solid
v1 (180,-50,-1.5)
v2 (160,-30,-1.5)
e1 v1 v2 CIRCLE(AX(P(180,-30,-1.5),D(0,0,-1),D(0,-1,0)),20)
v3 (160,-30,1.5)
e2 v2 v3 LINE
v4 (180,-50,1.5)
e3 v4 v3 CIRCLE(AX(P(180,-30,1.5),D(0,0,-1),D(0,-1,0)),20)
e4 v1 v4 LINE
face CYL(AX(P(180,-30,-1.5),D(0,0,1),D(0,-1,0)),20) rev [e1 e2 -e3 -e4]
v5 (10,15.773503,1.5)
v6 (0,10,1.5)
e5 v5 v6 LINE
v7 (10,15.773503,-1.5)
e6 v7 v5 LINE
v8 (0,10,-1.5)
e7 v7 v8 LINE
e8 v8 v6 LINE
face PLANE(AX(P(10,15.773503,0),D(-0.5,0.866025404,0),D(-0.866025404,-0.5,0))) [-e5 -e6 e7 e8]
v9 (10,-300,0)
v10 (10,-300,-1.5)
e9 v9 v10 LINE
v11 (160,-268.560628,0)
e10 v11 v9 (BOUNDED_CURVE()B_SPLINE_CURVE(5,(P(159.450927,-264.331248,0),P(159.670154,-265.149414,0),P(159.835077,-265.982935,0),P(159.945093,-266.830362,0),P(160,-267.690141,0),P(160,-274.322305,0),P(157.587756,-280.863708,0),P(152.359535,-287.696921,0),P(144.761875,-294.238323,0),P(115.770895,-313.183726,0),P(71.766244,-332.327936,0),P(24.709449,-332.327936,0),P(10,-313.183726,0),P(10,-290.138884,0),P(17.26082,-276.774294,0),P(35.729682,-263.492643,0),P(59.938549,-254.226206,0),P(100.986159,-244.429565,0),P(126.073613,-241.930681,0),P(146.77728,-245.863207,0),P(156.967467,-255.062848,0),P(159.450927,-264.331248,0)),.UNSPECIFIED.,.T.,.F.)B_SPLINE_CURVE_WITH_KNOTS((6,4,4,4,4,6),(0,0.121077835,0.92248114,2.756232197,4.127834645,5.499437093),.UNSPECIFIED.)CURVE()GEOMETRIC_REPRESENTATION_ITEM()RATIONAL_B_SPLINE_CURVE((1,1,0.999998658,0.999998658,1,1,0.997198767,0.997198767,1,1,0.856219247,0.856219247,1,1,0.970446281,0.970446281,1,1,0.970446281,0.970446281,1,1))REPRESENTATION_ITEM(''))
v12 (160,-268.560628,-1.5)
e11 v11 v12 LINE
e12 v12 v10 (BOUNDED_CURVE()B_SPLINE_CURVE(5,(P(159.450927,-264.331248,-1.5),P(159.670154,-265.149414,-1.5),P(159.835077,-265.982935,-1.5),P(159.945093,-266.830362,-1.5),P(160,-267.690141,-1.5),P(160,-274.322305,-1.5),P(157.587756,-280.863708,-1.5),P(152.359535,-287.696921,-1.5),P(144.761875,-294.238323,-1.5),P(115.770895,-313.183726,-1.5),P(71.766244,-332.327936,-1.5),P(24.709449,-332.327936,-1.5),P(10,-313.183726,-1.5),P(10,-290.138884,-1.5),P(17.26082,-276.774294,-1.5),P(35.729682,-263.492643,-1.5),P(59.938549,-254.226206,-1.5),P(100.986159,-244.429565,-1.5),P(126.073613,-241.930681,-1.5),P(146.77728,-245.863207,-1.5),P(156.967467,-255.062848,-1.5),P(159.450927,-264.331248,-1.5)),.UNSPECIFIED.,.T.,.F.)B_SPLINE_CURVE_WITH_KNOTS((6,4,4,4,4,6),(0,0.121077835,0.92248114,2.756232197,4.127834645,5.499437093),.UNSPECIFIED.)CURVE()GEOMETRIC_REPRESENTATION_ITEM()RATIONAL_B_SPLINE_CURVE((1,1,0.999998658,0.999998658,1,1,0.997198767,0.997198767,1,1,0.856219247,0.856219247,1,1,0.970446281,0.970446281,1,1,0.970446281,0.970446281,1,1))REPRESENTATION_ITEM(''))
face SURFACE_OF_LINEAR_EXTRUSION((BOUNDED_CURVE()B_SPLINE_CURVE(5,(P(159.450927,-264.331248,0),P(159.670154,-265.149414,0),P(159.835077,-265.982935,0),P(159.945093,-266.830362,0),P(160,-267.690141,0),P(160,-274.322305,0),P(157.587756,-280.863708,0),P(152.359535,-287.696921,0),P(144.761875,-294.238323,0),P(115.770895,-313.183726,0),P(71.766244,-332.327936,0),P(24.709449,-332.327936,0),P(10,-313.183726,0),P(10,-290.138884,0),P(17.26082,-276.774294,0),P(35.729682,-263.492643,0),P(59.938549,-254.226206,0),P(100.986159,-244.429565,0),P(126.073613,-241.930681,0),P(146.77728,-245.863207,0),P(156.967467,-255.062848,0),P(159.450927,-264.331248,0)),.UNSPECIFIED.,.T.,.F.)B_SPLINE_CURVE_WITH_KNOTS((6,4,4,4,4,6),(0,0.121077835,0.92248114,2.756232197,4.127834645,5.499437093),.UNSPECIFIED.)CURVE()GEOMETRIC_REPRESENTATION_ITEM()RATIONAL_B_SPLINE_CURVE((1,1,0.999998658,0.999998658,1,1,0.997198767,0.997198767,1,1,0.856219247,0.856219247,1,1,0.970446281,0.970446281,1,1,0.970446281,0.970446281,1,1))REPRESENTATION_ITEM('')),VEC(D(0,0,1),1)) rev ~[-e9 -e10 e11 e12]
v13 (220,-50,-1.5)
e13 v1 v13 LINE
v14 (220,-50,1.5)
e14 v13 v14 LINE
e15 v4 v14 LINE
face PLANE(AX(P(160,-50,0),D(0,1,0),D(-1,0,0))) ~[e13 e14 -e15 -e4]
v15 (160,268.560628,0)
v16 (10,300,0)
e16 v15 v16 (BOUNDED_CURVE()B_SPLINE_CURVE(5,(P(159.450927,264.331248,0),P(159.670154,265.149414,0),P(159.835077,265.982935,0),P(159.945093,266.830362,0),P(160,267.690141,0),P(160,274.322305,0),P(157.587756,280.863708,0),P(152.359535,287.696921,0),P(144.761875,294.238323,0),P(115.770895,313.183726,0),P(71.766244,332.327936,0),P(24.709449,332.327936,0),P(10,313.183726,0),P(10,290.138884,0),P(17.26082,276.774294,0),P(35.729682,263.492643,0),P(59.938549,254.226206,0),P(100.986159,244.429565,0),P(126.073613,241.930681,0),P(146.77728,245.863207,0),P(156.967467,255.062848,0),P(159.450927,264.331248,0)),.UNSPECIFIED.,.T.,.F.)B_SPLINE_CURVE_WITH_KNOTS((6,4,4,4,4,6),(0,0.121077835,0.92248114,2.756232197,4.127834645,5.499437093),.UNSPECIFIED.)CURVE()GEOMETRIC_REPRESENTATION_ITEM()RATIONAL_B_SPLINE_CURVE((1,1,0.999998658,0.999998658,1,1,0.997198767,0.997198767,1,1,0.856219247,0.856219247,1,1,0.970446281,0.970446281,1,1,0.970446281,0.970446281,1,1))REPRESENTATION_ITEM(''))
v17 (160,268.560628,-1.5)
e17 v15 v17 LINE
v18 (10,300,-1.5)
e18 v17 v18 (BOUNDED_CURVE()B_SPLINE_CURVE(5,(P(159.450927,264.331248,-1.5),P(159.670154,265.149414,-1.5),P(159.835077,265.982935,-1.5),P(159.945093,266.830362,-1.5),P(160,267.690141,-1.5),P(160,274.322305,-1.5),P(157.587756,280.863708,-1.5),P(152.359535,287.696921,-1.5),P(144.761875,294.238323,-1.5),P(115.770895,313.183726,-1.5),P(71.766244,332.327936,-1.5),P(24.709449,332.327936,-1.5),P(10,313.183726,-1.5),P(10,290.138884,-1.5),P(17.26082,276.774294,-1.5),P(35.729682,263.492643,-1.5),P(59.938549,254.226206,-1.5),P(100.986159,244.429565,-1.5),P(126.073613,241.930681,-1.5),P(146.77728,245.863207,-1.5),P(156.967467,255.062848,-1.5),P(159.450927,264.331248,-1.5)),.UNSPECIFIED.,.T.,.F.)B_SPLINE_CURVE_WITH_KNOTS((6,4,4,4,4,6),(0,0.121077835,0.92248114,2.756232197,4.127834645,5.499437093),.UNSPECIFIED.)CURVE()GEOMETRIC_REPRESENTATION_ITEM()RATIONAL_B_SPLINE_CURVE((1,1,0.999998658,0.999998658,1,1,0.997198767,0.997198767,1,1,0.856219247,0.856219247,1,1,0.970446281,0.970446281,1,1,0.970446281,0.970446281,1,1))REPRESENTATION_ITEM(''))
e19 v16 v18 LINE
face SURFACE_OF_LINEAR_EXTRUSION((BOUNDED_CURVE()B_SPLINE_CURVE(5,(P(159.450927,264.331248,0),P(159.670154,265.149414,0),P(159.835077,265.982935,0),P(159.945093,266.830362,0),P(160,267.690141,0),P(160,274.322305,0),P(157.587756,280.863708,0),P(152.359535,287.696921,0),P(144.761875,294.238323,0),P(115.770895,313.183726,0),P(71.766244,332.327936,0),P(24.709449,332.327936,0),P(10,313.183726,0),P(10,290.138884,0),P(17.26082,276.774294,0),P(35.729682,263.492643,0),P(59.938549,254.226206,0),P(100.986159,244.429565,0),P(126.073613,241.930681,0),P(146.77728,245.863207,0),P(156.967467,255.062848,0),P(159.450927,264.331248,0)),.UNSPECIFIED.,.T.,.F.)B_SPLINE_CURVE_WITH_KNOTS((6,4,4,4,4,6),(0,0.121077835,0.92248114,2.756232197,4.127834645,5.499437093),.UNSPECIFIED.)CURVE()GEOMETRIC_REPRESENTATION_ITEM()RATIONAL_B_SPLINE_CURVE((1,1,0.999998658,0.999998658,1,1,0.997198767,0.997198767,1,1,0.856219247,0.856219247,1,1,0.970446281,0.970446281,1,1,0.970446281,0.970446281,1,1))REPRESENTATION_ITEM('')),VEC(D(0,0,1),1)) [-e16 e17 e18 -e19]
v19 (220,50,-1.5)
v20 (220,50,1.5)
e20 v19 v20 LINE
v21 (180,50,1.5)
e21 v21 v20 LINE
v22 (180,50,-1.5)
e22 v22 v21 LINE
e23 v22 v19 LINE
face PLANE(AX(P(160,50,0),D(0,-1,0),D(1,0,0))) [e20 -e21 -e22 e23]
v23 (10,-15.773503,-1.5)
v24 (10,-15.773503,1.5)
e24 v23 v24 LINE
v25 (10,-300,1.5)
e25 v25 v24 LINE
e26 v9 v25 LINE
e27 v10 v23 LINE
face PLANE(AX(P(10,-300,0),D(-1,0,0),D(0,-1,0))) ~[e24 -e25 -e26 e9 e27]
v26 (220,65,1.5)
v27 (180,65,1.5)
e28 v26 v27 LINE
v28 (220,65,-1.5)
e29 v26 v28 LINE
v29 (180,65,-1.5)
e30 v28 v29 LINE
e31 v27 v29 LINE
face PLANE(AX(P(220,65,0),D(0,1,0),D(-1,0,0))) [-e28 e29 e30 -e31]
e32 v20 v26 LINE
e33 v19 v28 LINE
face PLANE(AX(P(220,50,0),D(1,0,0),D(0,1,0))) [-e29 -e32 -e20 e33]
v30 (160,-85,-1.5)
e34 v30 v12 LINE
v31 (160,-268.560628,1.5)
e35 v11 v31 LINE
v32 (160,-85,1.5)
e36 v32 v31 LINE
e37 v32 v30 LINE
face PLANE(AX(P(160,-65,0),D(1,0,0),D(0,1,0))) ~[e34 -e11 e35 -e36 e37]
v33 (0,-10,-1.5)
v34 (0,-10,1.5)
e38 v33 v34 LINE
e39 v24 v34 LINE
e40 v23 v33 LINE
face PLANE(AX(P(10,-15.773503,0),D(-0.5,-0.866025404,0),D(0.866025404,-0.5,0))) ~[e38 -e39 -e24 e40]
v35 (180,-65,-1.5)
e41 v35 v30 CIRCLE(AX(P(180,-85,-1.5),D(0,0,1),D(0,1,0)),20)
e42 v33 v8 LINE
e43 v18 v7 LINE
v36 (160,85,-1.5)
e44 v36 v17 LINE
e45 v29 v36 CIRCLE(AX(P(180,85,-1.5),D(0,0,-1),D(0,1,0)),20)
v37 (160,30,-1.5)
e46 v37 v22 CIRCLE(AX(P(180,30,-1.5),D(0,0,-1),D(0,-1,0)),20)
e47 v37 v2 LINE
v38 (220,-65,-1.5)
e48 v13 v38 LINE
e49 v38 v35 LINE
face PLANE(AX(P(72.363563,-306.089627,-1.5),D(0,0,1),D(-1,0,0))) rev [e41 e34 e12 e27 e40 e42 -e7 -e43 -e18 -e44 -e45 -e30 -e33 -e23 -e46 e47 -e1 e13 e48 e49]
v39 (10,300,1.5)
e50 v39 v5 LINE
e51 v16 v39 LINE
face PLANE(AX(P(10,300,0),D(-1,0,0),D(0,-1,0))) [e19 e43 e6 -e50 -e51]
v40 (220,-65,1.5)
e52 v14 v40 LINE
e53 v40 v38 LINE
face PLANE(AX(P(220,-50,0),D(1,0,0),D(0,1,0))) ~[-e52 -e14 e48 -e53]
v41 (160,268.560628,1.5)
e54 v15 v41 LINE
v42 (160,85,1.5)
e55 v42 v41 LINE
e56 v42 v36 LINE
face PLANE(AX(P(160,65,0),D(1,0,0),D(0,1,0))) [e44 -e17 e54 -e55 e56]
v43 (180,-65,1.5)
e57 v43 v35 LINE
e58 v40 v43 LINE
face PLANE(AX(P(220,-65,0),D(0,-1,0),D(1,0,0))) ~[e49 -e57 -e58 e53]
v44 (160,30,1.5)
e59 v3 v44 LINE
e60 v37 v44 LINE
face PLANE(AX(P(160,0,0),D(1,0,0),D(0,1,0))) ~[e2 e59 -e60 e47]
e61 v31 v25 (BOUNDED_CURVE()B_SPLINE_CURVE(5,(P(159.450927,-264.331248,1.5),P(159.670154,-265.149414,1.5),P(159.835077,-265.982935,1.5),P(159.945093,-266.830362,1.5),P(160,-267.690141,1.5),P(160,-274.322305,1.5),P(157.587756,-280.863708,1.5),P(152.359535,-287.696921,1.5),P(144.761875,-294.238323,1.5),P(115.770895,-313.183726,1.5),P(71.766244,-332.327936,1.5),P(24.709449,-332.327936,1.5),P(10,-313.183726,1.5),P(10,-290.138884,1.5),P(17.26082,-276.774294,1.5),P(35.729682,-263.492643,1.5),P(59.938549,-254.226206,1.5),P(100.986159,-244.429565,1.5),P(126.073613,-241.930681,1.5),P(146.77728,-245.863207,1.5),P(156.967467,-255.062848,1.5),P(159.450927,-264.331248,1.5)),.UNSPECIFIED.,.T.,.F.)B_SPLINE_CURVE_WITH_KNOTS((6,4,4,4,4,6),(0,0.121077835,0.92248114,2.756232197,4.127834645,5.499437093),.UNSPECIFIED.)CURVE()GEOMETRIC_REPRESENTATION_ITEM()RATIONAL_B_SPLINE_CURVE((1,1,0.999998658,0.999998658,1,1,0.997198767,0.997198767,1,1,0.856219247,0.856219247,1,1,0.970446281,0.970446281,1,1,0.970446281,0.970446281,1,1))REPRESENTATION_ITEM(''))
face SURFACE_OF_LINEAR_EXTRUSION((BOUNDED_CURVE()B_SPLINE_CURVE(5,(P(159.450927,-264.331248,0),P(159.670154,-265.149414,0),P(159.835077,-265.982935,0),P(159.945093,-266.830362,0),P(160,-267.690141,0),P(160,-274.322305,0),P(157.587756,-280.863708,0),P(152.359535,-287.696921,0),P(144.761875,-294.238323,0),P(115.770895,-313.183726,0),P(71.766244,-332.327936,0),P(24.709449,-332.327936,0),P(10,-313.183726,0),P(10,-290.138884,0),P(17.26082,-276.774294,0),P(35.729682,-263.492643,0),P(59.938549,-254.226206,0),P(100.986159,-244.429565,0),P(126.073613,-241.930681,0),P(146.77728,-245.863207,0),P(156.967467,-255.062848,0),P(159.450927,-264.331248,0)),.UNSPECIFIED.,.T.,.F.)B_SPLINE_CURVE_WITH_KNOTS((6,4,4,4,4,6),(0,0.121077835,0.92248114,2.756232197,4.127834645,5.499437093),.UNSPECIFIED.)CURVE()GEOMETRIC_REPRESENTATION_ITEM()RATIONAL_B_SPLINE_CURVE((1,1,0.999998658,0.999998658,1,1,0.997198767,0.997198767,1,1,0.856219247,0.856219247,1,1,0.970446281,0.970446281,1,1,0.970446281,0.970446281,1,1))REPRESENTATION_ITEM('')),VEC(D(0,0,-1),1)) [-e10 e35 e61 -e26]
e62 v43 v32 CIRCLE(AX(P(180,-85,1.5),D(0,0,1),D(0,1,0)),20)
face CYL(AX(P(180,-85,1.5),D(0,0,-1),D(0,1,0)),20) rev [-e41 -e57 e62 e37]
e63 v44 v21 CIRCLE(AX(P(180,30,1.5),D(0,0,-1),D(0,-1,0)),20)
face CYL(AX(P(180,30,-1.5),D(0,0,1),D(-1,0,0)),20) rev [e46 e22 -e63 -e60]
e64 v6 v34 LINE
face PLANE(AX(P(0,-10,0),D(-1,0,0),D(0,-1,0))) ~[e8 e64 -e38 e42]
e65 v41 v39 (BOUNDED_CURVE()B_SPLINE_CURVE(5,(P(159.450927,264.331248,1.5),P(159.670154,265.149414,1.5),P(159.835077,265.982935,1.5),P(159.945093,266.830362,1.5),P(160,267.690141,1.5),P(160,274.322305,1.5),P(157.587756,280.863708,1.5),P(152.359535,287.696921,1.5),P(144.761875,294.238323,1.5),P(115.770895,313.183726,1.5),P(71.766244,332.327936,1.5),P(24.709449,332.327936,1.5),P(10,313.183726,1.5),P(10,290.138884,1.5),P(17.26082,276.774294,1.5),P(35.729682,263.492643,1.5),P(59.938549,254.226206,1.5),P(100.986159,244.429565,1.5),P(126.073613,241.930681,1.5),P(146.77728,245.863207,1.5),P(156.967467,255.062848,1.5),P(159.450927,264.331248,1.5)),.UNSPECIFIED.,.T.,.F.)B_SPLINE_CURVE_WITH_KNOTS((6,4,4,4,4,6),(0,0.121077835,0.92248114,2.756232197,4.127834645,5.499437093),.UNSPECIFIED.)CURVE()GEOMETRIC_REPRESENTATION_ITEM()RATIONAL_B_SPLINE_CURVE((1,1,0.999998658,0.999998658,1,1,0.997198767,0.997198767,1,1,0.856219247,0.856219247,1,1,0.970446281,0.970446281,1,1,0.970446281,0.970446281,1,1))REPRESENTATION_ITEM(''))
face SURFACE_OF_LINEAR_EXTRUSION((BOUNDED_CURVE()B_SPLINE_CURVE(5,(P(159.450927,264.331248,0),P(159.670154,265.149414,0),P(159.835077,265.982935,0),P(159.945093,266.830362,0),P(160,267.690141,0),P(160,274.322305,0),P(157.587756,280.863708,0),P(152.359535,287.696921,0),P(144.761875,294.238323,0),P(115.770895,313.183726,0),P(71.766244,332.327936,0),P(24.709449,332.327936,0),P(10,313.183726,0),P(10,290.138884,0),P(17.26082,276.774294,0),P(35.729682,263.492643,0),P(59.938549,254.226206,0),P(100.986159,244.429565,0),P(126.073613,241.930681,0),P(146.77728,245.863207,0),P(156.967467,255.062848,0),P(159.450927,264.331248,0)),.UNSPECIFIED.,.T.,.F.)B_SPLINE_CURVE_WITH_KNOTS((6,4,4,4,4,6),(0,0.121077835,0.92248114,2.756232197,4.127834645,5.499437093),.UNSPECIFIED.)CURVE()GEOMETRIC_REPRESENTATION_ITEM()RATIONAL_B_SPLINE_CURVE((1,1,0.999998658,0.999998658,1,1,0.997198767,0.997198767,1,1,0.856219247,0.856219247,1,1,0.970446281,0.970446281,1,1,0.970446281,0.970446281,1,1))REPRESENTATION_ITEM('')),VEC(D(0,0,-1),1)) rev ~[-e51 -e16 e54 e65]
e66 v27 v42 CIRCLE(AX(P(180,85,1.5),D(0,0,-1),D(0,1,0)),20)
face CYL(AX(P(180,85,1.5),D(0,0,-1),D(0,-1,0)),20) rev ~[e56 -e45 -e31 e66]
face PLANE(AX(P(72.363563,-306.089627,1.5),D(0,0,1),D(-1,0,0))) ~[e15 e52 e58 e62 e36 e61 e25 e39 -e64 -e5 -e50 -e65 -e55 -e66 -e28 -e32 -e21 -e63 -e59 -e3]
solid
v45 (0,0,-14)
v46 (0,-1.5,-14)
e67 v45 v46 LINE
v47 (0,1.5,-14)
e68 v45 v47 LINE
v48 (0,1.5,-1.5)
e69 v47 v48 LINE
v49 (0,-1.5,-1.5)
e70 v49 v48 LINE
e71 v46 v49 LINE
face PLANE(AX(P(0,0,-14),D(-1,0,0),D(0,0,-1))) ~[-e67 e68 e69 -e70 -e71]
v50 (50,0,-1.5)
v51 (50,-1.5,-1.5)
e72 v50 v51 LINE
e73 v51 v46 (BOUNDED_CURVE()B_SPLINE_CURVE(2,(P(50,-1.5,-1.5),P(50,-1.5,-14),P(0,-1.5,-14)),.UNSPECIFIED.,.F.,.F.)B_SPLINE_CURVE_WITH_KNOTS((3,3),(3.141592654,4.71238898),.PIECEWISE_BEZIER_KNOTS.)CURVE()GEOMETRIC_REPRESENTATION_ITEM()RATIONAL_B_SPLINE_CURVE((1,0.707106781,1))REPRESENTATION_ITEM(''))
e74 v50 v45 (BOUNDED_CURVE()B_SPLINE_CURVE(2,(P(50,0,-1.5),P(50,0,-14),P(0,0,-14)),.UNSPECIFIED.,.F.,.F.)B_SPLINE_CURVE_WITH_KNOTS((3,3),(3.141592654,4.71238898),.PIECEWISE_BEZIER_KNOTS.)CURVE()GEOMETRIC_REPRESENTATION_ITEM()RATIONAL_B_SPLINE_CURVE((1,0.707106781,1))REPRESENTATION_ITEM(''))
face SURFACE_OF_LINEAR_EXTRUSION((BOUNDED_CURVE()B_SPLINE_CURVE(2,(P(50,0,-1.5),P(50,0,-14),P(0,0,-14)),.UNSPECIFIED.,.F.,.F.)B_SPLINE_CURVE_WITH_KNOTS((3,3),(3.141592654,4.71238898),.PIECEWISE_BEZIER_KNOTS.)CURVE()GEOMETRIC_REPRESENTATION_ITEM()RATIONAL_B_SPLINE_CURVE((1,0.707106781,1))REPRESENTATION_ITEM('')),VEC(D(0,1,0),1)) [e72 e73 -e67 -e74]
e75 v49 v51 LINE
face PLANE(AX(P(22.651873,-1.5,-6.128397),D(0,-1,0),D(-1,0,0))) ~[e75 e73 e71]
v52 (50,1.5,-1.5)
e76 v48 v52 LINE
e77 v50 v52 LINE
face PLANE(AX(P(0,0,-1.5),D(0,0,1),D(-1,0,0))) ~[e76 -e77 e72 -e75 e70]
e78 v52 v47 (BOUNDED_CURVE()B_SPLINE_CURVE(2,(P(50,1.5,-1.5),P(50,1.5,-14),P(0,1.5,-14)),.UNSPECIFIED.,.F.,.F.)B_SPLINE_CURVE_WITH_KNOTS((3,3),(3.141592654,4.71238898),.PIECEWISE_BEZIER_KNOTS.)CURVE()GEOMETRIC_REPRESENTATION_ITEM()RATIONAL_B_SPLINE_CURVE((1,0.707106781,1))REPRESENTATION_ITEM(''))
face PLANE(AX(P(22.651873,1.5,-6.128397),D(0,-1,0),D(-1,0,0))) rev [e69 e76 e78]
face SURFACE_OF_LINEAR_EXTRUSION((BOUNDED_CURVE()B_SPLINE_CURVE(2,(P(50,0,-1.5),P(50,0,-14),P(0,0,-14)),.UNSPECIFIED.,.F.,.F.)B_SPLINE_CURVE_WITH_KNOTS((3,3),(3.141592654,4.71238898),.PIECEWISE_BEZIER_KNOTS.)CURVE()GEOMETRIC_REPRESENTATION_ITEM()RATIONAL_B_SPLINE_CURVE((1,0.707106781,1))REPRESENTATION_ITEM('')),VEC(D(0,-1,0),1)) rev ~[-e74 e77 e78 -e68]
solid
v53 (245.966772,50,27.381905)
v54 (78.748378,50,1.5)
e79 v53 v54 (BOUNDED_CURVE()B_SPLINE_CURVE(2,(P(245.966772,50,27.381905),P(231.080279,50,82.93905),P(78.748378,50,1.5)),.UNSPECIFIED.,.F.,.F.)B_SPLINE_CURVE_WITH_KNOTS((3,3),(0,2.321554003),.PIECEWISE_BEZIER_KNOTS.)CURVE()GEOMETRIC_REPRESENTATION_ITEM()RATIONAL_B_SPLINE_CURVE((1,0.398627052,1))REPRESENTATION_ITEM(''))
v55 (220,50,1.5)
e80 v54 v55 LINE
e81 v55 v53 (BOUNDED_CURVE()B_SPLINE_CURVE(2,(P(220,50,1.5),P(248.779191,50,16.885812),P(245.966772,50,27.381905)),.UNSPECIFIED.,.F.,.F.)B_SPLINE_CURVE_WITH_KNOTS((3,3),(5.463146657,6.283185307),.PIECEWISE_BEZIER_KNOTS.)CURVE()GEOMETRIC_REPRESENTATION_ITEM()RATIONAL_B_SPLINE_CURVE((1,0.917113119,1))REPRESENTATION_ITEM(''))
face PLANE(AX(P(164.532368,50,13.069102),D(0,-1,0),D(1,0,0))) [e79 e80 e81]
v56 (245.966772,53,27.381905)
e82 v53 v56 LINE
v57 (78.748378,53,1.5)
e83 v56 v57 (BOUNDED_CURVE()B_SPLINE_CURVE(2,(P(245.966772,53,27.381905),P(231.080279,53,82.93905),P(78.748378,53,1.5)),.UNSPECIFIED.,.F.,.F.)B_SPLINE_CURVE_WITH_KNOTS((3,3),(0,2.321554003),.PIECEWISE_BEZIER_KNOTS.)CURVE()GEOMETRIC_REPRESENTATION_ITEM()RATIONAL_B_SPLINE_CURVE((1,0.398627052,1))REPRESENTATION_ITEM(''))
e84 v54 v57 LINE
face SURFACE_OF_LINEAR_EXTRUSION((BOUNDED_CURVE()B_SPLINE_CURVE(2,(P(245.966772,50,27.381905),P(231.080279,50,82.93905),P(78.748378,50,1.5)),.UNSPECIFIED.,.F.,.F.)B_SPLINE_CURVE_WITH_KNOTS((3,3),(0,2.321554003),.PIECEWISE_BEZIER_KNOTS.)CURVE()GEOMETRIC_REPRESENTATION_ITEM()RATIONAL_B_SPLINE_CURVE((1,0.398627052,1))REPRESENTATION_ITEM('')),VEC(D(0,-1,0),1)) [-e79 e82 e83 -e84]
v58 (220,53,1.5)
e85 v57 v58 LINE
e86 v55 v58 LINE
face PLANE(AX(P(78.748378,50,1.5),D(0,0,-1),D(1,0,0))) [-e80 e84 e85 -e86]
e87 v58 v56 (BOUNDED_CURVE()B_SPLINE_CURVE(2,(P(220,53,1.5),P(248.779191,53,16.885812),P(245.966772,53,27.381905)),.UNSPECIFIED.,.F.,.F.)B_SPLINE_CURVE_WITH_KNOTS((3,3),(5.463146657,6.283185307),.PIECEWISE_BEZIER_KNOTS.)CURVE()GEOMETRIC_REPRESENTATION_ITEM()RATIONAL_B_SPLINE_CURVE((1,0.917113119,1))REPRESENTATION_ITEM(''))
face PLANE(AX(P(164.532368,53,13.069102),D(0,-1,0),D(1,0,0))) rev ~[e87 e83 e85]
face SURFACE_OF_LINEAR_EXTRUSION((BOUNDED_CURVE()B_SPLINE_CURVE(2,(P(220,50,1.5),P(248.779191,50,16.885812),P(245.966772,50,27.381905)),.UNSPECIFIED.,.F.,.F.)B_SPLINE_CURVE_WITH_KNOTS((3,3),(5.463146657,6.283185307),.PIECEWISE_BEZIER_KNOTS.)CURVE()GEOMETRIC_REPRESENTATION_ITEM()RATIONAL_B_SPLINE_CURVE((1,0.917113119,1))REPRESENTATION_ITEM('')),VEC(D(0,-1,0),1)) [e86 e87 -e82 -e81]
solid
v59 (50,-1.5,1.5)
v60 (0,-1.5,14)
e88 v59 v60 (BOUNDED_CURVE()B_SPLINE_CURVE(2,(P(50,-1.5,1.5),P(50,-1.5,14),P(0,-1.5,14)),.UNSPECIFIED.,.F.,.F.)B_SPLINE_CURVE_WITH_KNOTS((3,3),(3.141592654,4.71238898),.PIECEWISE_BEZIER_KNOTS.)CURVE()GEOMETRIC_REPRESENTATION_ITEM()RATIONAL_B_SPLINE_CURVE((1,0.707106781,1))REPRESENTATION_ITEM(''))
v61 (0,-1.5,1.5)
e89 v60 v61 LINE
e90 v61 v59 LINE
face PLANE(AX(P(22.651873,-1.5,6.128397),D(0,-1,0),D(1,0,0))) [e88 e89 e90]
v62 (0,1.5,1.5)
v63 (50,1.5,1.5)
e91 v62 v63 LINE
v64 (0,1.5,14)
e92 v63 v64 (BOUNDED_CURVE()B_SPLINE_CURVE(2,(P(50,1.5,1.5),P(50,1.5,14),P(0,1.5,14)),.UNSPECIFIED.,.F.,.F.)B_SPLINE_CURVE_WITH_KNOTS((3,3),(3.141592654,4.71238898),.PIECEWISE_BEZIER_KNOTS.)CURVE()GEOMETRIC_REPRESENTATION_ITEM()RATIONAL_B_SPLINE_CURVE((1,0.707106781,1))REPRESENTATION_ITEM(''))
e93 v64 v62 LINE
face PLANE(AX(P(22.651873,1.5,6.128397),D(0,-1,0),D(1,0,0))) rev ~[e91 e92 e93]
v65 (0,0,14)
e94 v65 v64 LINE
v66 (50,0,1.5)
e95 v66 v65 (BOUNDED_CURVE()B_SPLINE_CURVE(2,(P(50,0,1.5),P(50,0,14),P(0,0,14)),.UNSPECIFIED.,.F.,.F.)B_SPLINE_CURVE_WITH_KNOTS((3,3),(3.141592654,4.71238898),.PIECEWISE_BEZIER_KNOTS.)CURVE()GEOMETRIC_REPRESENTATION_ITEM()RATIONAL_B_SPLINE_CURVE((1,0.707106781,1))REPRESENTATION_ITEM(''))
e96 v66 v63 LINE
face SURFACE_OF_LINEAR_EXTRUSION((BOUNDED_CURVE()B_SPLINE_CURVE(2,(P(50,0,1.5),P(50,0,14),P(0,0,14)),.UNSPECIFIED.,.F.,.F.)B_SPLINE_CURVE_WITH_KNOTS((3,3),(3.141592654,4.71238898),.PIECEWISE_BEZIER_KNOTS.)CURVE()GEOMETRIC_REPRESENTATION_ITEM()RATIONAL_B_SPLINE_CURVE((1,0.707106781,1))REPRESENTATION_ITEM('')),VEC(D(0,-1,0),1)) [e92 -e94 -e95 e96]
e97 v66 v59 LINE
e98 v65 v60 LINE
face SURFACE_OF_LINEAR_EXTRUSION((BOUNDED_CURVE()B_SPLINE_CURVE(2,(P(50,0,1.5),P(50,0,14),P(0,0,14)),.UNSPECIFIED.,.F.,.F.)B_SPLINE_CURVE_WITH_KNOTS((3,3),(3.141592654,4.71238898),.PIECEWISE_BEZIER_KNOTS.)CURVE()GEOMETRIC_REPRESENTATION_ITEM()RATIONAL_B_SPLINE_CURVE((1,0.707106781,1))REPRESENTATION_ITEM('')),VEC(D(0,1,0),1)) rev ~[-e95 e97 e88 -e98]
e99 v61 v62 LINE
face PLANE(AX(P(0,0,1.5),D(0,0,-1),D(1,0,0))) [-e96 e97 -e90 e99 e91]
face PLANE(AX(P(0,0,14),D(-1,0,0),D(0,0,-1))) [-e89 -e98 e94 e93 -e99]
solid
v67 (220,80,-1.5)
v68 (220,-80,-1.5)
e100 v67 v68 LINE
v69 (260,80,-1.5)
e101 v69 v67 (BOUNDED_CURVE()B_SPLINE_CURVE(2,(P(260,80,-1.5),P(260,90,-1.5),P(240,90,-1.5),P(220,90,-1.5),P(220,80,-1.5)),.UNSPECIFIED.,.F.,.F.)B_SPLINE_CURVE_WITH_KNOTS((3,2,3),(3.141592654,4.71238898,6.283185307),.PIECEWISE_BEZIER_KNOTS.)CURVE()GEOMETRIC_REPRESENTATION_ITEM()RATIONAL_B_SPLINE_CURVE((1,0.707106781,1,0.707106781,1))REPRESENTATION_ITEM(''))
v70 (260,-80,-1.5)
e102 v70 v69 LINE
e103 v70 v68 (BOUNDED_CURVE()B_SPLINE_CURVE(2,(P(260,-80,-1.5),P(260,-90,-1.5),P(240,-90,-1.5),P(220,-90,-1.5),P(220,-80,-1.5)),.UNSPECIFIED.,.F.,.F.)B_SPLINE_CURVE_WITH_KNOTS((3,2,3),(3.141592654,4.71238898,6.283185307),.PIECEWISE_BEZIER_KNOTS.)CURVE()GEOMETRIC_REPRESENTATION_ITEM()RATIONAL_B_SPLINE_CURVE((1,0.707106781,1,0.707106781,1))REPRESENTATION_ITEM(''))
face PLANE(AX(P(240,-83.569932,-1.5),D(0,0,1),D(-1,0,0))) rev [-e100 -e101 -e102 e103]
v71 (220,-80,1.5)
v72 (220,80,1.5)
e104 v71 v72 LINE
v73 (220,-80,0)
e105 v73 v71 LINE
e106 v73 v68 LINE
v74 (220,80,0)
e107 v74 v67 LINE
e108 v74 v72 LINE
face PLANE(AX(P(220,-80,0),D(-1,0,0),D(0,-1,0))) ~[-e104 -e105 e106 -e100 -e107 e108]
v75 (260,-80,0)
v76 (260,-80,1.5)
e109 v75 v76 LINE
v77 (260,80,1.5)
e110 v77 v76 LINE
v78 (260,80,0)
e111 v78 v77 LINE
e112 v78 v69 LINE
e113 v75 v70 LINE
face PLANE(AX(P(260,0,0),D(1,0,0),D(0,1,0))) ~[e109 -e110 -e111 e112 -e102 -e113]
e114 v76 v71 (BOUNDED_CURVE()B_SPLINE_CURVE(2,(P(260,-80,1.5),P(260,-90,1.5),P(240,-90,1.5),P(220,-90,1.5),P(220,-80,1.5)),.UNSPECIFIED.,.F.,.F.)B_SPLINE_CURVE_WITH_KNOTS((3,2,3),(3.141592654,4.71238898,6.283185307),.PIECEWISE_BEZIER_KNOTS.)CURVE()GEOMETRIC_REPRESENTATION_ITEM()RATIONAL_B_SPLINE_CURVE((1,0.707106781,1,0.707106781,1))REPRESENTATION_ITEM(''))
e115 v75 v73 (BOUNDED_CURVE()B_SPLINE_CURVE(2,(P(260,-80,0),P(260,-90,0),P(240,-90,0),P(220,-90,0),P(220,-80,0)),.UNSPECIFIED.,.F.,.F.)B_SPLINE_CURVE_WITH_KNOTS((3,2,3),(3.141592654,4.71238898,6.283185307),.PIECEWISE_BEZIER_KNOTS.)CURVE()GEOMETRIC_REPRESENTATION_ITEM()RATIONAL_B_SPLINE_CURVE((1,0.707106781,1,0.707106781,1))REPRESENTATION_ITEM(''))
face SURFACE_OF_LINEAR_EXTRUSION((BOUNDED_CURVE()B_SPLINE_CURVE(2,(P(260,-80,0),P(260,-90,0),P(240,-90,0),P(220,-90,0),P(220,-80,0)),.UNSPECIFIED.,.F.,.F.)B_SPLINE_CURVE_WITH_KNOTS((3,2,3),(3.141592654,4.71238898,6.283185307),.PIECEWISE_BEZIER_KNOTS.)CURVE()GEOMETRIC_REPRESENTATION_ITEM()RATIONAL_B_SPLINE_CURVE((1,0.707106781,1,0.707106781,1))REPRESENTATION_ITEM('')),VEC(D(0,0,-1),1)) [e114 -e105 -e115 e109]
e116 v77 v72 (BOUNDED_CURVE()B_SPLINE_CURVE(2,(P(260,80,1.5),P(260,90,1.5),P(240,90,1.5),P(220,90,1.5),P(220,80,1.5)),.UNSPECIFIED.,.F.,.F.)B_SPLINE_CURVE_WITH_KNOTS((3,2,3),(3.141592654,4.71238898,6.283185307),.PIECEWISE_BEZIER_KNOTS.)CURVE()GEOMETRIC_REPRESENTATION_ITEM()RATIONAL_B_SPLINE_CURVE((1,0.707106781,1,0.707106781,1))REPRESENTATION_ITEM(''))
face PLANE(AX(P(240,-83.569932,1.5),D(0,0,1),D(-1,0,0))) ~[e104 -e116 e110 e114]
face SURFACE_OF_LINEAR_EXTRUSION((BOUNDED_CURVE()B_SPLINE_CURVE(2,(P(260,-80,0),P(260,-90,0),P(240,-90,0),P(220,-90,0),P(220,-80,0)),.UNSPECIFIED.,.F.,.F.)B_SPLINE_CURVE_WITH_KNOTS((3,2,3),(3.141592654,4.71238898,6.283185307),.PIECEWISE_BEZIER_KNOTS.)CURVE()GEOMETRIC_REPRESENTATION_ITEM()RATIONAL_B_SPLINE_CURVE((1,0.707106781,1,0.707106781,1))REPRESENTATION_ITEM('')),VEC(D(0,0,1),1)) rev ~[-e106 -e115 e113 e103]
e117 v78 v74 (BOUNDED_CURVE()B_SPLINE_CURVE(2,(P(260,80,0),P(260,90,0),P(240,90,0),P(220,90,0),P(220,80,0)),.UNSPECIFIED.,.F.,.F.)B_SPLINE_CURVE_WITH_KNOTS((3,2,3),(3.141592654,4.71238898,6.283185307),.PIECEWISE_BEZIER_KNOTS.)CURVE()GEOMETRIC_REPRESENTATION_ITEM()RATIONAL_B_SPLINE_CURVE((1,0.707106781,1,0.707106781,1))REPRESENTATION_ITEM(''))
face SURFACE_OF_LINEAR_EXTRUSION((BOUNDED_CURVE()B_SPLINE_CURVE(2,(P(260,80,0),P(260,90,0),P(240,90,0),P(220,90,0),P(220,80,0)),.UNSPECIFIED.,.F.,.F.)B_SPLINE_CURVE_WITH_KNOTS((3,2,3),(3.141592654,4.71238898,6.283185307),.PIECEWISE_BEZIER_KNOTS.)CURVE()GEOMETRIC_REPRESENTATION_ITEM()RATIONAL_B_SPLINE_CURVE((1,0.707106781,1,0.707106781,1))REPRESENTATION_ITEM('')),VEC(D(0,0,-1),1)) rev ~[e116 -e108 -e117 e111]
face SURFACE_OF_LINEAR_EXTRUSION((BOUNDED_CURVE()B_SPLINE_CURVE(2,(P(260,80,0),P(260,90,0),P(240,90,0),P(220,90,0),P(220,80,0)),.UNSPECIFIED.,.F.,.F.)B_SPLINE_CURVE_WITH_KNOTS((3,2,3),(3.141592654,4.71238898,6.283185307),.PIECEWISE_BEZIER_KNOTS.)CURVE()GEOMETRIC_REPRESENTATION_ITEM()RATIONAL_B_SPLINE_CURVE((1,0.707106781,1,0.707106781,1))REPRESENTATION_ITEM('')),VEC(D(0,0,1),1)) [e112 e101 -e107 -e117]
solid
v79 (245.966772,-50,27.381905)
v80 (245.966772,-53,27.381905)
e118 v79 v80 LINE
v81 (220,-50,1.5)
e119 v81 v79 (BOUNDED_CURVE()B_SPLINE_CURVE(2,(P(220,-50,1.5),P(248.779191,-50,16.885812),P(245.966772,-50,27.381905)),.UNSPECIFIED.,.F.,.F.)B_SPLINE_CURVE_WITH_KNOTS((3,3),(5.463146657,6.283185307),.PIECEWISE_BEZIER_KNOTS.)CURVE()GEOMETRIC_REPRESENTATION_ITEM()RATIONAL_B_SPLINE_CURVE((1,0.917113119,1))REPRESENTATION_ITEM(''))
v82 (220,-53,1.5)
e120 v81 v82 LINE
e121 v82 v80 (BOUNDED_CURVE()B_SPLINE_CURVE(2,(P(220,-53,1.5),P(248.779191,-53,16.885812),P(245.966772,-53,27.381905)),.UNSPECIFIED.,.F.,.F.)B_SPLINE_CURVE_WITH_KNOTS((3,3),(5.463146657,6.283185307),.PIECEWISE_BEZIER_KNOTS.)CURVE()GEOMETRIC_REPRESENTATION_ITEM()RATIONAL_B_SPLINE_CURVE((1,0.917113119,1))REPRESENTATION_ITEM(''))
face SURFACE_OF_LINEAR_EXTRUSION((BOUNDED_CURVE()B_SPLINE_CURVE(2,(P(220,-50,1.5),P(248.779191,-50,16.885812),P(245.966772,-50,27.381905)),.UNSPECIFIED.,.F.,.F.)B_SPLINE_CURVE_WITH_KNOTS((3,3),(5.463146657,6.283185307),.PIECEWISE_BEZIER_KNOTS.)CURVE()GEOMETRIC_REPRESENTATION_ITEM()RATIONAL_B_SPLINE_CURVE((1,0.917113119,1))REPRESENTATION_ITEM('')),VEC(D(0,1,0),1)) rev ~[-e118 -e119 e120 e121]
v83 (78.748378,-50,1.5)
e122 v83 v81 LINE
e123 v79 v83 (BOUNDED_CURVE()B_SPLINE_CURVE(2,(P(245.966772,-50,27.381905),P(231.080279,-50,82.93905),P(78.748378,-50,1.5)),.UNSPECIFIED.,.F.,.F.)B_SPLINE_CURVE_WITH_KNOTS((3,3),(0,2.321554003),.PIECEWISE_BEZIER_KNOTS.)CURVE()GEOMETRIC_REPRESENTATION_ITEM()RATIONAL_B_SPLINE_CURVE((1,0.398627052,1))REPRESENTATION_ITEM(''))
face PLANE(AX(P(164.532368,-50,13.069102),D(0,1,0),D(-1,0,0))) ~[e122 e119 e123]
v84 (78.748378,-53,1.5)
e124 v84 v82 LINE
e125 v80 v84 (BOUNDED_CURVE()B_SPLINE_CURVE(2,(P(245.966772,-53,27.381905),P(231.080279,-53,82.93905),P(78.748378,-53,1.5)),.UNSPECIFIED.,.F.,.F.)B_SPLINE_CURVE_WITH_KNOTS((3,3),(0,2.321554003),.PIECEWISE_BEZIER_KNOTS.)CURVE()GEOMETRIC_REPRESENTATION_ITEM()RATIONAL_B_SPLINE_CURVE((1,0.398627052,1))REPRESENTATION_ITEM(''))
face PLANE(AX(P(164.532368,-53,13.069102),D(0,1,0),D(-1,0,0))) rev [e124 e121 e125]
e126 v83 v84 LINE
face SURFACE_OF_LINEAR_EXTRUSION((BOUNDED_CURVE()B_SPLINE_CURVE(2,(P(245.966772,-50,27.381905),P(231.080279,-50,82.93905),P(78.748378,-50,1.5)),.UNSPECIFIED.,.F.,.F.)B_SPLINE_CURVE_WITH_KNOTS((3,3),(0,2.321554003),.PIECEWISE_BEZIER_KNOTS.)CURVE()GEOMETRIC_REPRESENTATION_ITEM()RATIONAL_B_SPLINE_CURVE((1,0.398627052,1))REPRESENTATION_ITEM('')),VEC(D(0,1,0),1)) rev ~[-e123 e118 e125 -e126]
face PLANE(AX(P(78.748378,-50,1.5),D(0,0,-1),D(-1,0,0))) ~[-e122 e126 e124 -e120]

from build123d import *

# Parameters (mm, degrees)
F1_DEPTH  = 1.5
F4_DEPTH  = 1.5
F7_DEPTH  = 3
F9_R      = 20
F11_DEPTH = 1.5


with BuildPart() as f1:
    # F0 (on Top) → F1 (new body, symmetric)
    with BuildSketch(Plane.XY):
        with BuildLine():
            add(Edge.make_bspline(
                [(135.9451361005, 300), (10, 382.3042689185), (10, 300)],
                knots=[0.9451087561, 0.9451087561, 0.9451087561, 3.2626704882, 3.2626704882, 3.2626704882], degree=2, weights=[1, 0.4004569382, 1]))
            Line((10, 300), (135.9451361005, 300))
        make_face()
        with BuildLine():
            Line((135.9451361005, 300), (10, 300))
            add(Edge.make_bspline(
                [(10, 300), (10, 266.1448048575), (80.4623541034, 249.327885317), (150.9247082069, 232.5109657765), (159.4509271925, 264.3312482271)],
                knots=[3.2626704882, 3.2626704882, 3.2626704882, 4.7729278977, 4.7729278977, 6.2831853072, 6.2831853072, 6.2831853072], degree=2, weights=[1, 0.7281833372, 1, 0.7281833372, 1]))
            add(Edge.make_bspline(
                [(159.4509271925, 264.3312482271), (160, 266.3804158418), (160, 268.5606280881)],
                knots=[0, 0, 0, 0.1210778346, 0.1210778346, 0.1210778346], degree=2, weights=[1, 0.9981680793, 1]))
            add(Edge.make_bspline(
                [(160, 268.5606280881), (160, 284.280314044), (135.9451361005, 300)],
                knots=[0.1210778346, 0.1210778346, 0.1210778346, 0.9451087561, 0.9451087561, 0.9451087561], degree=2, weights=[1, 0.9163155792, 1]))
        make_face()
        with BuildLine():
            Line((0, 10), (0, 0))
            Line((0, 0), (160, 0))
            Line((160, 0), (160, 50))
            Line((160, 50), (220, 50))
            Line((220, 50), (220, 65))
            Line((220, 65), (160, 65))
            Line((160, 65), (160, 268.5606280881))
            add(Edge.make_bspline(
                [(159.4509271925, 264.3312482271), (160, 266.3804158418), (160, 268.5606280881)],
                knots=[0, 0, 0, 0.1210778346, 0.1210778346, 0.1210778346], degree=2, weights=[1, 0.9981680793, 1]))
            add(Edge.make_bspline(
                [(10, 300), (10, 266.1448048575), (80.4623541034, 249.327885317), (150.9247082069, 232.5109657765), (159.4509271925, 264.3312482271)],
                knots=[3.2626704882, 3.2626704882, 3.2626704882, 4.7729278977, 4.7729278977, 6.2831853072, 6.2831853072, 6.2831853072], degree=2, weights=[1, 0.7281833372, 1, 0.7281833372, 1]))
            Line((10, 300), (10, 15.7735026919))
            Line((10, 15.7735026919), (0, 10))
        make_face()
    extrude(amount=F1_DEPTH, both=True)

    # F2: F1 across plane


with BuildPart() as f1_1:
    add(f1.part)
    add(f1.part.mirror(Plane.XZ))

    # F9
    f9_edges = [f1_1.edges().sort_by_distance(p)[0] for p in [
        (160, -65, 0),
        (160, 65, 0),
        (160, -50, 0),
        (160, 50, 0),
    ]]
    fillet(f9_edges, radius=F9_R)


with BuildPart() as f4:
    # F3 (on Front) → F4 (new body, symmetric)
    with BuildSketch(Plane.XZ):
        with BuildLine():
            Line((0, 1.5), (50, 1.5))
            add(Edge.make_bspline(
                [(50, 1.5), (50, 14), (0, 14)],
                knots=[3.1415926536, 3.1415926536, 3.1415926536, 4.7123889804, 4.7123889804, 4.7123889804], degree=2, weights=[1, 0.7071067812, 1]))
            Line((0, 14), (0, 1.5))
        make_face()
    extrude(amount=F4_DEPTH, both=True)


with BuildPart() as f5_1:
    # F5: instance of F4
    add(f4.part.mirror(Plane.XY))


with BuildPart() as f7:
    # F6 (on face) → F7 (new body)
    with BuildSketch(Plane.XZ.offset(-50)):
        with BuildLine():
            add(Edge.make_bspline(
                [(220, 1.5), (248.7791912286, 16.8858120428), (245.9667717283, 27.3819045103)],
                knots=[5.4631466565, 5.4631466565, 5.4631466565, 6.2831853072, 6.2831853072, 6.2831853072], degree=2, weights=[1, 0.9171131194, 1]))
            add(Edge.make_bspline(
                [(245.9667717283, 27.3819045103), (231.0802793994, 82.9390502283), (78.7483781988, 1.5)],
                knots=[0, 0, 0, 2.3215540029, 2.3215540029, 2.3215540029], degree=2, weights=[1, 0.3986270516, 1]))
            Line((78.7483781988, 1.5), (160, 1.5))
            Line((160, 1.5), (220, 1.5))
        make_face()
    extrude(amount=-F7_DEPTH)


with BuildPart() as f8_1:
    # F8: instance of F7
    add(f7.part.mirror(Plane.XZ))


with BuildPart() as f11:
    # F10 (on Top) → F11 (new body, symmetric)
    with BuildSketch(Plane.XY):
        with BuildLine():
            add(Edge.make_bspline(
                [(260, 80), (260, 90), (240, 90), (220, 90), (220, 80)],
                knots=[3.1415926536, 3.1415926536, 3.1415926536, 4.7123889804, 4.7123889804, 6.2831853072, 6.2831853072, 6.2831853072], degree=2, weights=[1, 0.7071067812, 1, 0.7071067812, 1]))
            Line((220, 80), (260, 80))
        make_face()
        with BuildLine():
            add(Edge.make_bspline(
                [(220, 80), (220, 70), (240, 70), (260, 70), (260, 80)],
                knots=[0, 0, 0, 1.5707963268, 1.5707963268, 3.1415926536, 3.1415926536, 3.1415926536], degree=2, weights=[1, 0.7071067812, 1, 0.7071067812, 1]))
            Line((220, 80), (220, 0))
            Line((220, 0), (260, 0))
            Line((260, 0), (260, 80))
        make_face()
        with BuildLine():
            Line((260, 80), (220, 80))
            add(Edge.make_bspline(
                [(220, 80), (220, 70), (240, 70), (260, 70), (260, 80)],
                knots=[0, 0, 0, 1.5707963268, 1.5707963268, 3.1415926536, 3.1415926536, 3.1415926536], degree=2, weights=[1, 0.7071067812, 1, 0.7071067812, 1]))
        make_face()
    extrude(amount=F11_DEPTH, both=True)

    # F12: F11 across plane


with BuildPart() as f11_1:
    add(f11.part)
    add(f11.part.mirror(Plane.XZ))


solid = Compound([f1_1.part, f4.part, f5_1.part, f7.part, f8_1.part, f11_1.part])
